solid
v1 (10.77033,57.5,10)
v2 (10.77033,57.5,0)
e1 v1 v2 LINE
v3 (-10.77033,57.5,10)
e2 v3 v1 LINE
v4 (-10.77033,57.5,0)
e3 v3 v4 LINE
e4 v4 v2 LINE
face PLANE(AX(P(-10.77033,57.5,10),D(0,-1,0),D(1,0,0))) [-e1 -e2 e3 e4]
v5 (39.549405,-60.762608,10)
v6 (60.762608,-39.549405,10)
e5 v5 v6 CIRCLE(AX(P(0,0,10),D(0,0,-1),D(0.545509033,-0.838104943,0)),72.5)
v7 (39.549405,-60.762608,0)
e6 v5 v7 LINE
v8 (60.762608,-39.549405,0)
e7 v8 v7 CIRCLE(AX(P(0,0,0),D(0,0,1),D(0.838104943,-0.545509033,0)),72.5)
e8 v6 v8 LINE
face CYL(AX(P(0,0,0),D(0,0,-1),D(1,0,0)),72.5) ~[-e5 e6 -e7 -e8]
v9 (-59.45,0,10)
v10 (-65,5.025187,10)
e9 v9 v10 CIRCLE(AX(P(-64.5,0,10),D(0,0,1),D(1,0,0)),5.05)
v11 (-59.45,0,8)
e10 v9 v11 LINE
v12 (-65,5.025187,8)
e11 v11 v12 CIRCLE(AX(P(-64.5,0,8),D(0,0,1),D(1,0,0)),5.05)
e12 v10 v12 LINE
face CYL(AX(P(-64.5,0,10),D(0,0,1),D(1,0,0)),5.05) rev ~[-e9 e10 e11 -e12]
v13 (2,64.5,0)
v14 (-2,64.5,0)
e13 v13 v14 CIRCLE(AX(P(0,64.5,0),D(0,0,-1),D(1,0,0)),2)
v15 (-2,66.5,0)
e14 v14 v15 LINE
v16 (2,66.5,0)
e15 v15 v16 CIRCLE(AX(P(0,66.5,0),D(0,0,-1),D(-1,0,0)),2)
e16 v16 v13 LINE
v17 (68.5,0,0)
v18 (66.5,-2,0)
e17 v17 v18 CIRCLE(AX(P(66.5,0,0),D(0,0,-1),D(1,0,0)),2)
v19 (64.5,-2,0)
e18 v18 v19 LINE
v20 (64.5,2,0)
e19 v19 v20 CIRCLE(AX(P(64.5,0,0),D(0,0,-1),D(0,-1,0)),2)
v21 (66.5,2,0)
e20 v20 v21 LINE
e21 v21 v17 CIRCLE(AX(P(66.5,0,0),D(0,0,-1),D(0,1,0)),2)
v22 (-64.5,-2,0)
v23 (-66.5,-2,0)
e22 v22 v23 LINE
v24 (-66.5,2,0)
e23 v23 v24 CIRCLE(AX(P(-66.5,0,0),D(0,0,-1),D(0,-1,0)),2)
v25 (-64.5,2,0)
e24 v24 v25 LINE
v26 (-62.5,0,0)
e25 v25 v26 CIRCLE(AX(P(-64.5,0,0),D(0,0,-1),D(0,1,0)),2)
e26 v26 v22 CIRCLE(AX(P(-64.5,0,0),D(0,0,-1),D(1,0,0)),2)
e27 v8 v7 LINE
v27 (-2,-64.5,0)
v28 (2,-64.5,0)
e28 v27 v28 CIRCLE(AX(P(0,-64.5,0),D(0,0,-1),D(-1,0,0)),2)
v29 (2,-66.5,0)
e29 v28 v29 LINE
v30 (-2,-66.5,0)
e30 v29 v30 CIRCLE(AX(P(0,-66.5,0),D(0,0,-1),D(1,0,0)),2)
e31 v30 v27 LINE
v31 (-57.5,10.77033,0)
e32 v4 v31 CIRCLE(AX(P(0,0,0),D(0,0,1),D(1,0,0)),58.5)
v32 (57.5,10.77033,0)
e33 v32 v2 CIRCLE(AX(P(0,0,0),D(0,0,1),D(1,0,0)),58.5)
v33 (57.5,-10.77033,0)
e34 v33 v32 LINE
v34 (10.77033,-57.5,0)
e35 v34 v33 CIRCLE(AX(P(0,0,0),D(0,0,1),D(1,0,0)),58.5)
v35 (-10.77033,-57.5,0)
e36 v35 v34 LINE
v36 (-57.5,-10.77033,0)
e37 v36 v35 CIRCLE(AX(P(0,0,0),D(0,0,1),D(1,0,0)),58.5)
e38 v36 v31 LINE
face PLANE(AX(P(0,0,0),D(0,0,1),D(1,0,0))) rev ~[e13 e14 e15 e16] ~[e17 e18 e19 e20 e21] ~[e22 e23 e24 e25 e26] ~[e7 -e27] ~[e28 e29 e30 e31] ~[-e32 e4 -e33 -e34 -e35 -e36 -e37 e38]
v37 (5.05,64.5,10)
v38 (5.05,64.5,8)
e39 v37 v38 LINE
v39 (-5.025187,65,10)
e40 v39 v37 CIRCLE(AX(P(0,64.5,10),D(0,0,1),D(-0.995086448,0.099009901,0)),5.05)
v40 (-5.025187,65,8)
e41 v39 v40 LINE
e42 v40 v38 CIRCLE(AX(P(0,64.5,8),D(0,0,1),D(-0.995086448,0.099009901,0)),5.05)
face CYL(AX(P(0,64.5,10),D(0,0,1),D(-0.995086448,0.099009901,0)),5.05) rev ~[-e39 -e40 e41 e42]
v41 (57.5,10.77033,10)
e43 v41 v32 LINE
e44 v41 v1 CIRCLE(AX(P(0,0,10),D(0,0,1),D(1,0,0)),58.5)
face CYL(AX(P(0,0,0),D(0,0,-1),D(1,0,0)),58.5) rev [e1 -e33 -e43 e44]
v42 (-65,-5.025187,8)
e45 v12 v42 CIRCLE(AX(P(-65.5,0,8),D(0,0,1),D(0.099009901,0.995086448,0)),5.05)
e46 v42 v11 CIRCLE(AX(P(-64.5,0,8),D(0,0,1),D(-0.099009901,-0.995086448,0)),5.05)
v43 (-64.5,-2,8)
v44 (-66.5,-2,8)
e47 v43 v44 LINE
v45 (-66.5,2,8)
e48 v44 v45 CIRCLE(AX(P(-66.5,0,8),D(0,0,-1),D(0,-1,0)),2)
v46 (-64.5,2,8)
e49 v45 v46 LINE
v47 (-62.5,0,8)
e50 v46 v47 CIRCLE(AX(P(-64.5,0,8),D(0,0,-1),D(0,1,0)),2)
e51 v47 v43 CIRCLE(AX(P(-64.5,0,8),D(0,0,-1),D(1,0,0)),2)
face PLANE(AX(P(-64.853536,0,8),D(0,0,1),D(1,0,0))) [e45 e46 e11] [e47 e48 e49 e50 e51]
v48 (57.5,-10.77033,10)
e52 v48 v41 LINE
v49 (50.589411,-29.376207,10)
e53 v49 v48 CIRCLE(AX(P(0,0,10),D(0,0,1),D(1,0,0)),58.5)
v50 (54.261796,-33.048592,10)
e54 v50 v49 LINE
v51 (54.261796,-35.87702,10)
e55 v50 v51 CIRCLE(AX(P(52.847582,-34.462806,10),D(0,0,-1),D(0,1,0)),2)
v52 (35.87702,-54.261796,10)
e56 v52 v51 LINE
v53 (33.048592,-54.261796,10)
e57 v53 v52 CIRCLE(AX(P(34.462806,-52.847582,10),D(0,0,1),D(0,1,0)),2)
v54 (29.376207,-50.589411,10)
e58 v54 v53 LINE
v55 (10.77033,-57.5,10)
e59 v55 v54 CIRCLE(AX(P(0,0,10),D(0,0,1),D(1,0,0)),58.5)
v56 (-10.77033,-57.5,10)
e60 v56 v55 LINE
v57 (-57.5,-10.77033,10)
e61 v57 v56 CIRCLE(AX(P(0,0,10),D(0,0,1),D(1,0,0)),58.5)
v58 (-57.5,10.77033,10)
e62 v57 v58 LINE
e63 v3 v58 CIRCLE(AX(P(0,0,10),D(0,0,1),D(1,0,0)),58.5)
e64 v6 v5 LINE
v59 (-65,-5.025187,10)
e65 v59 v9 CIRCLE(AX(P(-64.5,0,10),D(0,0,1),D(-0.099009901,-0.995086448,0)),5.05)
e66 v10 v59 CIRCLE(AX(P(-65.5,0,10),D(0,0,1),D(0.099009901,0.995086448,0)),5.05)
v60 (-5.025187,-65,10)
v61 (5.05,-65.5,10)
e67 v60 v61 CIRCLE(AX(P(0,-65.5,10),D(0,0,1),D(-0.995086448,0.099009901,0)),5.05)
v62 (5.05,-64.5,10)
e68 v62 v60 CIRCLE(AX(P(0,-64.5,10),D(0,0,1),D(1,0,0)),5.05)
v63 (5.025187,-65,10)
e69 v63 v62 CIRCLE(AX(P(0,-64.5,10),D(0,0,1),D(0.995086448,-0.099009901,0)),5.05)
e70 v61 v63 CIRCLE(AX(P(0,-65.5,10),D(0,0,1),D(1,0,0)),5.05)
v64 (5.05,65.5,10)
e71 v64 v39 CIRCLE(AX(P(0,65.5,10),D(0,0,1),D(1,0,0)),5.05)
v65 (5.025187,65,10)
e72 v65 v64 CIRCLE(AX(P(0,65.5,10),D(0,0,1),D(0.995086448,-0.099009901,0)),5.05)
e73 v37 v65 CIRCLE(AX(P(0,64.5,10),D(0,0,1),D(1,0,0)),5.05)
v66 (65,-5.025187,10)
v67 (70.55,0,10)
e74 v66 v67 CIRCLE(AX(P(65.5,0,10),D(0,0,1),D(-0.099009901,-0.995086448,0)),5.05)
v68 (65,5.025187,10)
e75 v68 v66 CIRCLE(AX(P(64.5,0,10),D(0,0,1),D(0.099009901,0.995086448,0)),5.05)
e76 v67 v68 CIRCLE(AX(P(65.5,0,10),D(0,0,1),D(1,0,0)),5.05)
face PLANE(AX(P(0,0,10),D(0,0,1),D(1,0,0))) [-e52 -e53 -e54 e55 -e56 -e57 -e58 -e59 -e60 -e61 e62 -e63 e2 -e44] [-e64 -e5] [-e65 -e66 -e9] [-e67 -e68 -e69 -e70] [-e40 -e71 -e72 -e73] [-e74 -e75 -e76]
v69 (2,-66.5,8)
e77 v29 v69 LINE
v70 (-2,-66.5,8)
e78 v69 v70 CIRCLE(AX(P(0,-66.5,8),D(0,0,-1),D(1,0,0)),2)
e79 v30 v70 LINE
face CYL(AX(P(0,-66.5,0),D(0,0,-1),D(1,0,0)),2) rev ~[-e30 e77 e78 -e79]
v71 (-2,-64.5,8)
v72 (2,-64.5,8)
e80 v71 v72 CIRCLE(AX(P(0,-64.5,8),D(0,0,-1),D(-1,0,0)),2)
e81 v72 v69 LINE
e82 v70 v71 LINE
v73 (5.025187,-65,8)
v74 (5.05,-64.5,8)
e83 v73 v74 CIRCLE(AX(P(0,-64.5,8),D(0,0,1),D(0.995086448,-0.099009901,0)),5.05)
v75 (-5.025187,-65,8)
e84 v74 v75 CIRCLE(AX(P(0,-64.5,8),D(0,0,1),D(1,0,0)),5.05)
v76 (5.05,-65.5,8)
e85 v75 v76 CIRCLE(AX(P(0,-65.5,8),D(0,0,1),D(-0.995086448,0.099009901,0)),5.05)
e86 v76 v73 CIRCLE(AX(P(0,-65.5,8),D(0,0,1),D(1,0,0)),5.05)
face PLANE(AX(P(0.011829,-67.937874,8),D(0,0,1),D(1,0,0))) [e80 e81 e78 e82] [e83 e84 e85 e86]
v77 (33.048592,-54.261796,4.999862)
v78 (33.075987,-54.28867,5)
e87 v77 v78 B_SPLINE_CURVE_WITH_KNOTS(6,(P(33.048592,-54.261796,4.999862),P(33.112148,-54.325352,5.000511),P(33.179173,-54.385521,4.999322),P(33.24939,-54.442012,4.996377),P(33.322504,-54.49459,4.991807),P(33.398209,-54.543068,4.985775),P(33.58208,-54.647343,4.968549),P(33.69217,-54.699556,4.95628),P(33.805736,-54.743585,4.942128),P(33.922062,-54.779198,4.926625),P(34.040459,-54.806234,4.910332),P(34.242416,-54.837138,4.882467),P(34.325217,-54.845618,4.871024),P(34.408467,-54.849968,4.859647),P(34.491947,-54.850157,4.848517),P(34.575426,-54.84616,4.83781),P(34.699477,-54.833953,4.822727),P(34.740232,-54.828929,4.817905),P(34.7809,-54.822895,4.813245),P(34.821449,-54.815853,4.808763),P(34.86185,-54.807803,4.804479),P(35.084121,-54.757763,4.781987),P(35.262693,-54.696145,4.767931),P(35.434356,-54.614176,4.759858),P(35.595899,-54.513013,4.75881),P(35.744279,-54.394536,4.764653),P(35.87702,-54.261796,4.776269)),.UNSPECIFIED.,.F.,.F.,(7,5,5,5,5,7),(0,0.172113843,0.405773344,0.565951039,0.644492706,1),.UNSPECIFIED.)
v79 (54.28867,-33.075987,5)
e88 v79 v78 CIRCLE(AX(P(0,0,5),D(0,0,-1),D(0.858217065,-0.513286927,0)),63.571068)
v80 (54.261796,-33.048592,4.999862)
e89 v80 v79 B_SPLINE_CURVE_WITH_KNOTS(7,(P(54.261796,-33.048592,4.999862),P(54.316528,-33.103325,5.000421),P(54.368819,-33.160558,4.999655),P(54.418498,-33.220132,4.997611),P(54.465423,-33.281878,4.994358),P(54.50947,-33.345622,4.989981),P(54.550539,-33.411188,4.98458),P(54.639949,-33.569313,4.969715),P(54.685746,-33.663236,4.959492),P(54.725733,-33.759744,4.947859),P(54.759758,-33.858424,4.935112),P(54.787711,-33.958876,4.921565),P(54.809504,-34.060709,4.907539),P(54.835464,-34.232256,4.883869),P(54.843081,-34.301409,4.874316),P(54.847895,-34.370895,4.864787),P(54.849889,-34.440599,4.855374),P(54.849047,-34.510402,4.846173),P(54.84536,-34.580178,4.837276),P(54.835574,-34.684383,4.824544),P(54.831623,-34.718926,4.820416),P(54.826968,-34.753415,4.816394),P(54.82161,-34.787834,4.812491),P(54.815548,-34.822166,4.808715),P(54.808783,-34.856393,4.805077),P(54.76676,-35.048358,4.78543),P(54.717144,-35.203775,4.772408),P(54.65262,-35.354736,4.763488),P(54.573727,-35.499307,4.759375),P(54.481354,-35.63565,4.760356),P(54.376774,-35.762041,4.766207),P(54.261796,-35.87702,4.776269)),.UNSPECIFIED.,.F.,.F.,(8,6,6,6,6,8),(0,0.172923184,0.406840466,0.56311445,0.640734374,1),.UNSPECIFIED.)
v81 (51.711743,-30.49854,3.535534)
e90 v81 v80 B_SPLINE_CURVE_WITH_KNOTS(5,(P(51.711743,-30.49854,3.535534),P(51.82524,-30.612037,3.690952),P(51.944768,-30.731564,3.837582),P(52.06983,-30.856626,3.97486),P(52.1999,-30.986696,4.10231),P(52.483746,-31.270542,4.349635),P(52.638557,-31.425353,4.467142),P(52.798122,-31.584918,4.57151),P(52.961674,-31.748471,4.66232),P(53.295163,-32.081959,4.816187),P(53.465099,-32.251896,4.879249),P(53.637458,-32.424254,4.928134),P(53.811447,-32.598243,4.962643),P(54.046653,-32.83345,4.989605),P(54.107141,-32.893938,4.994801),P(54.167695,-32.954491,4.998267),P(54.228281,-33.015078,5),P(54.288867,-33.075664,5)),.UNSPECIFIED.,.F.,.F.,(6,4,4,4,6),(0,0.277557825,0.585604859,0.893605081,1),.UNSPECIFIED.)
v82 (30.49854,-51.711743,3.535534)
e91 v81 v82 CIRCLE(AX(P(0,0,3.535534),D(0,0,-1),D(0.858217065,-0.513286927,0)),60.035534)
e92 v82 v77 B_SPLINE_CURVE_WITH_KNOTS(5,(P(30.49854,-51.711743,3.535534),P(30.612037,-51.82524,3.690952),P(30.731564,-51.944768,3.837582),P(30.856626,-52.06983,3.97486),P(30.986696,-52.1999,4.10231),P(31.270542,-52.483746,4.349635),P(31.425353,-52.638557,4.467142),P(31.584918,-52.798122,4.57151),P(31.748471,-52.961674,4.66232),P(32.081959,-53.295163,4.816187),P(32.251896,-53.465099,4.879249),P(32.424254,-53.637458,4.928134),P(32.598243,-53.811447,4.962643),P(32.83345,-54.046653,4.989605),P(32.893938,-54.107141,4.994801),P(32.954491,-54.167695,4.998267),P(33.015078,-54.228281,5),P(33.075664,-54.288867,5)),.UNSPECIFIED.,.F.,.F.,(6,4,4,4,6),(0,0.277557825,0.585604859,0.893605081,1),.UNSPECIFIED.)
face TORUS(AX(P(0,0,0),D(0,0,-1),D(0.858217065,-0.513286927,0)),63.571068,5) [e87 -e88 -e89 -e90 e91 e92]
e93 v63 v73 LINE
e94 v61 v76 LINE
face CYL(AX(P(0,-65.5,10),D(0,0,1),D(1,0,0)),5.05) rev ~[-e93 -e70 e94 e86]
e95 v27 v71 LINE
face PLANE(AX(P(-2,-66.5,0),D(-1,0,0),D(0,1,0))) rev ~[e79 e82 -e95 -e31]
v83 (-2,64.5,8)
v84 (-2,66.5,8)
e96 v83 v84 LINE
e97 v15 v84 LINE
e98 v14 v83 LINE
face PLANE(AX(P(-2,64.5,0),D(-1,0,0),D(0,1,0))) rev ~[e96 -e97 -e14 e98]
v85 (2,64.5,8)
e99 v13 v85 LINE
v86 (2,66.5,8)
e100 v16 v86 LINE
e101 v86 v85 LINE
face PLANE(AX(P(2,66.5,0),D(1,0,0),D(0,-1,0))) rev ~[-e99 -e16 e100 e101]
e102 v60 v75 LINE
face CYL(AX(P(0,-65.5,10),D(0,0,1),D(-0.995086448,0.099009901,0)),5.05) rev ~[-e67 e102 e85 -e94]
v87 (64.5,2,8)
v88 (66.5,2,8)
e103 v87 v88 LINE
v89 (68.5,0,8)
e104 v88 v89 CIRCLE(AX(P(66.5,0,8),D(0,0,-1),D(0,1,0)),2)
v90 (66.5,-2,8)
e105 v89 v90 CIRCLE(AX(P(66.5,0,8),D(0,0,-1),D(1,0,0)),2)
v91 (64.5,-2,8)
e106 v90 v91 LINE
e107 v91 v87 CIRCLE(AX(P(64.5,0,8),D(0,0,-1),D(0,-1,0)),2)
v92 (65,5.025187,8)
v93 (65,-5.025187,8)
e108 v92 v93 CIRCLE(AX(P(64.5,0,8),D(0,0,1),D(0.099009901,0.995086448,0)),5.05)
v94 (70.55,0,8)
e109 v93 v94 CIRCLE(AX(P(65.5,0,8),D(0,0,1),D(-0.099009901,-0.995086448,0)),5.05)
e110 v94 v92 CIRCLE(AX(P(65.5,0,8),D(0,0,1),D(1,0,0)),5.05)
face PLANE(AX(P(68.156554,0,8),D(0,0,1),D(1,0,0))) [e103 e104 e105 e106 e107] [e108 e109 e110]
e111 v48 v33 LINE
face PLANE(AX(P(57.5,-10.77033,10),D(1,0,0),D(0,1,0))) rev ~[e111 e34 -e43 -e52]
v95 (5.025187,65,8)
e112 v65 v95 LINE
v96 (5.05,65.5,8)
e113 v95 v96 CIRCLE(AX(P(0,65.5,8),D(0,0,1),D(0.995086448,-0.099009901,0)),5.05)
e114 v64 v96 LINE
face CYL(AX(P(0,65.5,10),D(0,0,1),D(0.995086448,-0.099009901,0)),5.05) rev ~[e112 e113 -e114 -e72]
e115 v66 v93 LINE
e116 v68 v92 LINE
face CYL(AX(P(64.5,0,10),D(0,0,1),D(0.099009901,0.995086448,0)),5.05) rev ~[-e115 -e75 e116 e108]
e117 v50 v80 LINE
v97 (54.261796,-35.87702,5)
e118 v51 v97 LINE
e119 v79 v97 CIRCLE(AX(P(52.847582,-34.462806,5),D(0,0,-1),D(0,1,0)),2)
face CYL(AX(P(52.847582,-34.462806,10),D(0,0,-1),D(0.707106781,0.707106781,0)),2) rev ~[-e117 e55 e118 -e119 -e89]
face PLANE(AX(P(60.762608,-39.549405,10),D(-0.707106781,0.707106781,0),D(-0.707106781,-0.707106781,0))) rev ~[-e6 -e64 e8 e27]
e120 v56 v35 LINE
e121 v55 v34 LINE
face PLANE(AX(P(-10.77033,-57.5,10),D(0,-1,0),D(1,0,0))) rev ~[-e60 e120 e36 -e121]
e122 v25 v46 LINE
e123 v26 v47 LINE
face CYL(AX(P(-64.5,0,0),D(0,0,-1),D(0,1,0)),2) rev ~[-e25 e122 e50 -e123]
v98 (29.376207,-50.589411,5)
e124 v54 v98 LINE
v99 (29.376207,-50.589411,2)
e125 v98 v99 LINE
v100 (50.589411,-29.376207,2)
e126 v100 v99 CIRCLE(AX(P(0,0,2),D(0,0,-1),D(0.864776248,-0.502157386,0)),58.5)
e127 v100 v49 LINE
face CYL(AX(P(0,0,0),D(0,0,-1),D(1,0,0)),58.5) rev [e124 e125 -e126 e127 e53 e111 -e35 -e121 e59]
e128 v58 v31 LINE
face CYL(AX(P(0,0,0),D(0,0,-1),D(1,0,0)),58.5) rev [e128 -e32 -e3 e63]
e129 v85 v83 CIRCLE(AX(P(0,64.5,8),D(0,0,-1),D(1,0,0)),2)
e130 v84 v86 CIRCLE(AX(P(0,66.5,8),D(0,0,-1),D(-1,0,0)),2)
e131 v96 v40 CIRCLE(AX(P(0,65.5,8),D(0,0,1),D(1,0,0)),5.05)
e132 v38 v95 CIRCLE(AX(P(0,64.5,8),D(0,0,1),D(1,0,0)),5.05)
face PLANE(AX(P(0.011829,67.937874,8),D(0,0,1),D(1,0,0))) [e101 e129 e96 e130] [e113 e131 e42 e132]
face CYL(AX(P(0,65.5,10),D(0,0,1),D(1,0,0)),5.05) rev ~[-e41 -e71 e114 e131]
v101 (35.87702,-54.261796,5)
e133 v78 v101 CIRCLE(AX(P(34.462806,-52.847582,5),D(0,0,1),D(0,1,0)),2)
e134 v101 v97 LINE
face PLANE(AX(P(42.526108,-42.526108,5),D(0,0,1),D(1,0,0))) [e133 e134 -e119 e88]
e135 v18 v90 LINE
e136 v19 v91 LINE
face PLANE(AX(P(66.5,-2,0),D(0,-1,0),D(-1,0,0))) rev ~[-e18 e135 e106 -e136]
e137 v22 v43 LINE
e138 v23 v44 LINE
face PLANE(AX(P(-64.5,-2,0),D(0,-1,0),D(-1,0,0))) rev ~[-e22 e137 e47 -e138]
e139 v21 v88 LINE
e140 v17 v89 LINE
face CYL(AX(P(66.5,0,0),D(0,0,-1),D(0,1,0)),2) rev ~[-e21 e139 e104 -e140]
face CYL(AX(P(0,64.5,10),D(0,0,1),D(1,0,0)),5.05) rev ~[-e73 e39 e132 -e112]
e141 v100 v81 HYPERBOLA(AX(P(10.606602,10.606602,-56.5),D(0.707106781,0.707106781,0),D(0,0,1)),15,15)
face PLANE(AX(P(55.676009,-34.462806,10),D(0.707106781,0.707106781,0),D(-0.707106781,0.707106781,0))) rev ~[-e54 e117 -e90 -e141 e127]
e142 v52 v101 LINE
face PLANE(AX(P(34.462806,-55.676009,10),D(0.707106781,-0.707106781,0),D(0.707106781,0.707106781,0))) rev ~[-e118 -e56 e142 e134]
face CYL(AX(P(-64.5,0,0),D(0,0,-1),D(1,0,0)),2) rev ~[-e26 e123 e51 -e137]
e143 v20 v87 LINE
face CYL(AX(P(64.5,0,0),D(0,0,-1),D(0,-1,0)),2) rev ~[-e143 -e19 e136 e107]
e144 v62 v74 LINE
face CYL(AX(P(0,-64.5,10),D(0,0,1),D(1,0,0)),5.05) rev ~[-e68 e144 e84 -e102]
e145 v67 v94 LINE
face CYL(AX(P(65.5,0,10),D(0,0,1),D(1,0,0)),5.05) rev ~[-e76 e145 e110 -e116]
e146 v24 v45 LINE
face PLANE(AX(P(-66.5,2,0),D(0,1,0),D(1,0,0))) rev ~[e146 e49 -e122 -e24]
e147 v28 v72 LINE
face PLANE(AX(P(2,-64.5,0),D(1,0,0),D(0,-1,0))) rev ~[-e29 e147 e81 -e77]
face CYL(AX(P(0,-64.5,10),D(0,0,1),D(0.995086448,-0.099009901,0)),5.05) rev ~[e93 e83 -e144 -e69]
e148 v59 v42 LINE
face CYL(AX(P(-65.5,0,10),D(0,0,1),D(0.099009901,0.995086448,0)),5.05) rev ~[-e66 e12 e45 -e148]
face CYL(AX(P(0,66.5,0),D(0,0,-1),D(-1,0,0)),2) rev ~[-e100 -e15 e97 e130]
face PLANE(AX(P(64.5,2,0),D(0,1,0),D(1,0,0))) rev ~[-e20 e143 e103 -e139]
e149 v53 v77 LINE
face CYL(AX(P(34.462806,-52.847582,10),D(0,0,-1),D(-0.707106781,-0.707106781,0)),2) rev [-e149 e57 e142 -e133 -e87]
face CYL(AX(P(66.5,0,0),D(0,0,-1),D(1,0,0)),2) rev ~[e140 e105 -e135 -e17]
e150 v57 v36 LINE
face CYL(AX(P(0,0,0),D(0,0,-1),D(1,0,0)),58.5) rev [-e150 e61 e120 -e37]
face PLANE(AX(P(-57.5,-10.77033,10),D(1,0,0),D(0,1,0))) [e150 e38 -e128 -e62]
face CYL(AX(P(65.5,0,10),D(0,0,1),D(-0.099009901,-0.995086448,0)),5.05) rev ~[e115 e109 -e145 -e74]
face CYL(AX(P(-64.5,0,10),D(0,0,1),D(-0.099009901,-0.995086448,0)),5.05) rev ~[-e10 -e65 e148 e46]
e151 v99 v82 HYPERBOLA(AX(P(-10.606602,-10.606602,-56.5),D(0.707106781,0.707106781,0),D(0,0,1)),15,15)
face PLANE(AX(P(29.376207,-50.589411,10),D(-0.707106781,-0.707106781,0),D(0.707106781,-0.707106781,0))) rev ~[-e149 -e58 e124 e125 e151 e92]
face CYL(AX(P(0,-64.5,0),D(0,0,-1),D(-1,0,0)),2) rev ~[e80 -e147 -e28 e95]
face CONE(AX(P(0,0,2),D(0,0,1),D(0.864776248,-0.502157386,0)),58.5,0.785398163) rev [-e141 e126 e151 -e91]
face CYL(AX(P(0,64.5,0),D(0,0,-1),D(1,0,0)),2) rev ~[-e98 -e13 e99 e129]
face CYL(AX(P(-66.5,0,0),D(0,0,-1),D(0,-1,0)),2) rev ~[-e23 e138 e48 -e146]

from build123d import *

# Parameters (mm, degrees)
F0_R      = 72.5
F0_R_2    = 58.5
F1_DEPTH  = 10
F3_DEPTH  = 10.001
F5_DEPTH  = 5
F7_DEPTH  = 2
F8_SIZE   = 3
F9_R      = 5
F10_R     = 2
F11_W     = 21.5406592285
F11_H     = 1
F11_W_2   = 1
F11_H_2   = 21.5406592285
F12_DEPTH = 10


with BuildPart() as f1:
    # F0 (on Top) → F1 (new body)
    with BuildSketch(Plane.XY):
        Circle(F0_R)
        with BuildLine():
            ThreePointArc((2, -66.5), (0, -68.5), (-2, -66.5))
            Line((-2, -66.5), (-2, -64.5))
            ThreePointArc((-2, -64.5), (0, -62.5), (2, -64.5))
            Line((2, -64.5), (2, -66.5))
        make_face(mode=Mode.SUBTRACT)
        with BuildLine():
            Line((-65.5, 2), (-64.5, 2))
            ThreePointArc((-64.5, 2), (-63.0857864376, 1.4142135624), (-62.5, 0))
            ThreePointArc((-62.5, 0), (-63.0857864376, -1.4142135624), (-64.5, -2))
            Line((-64.5, -2), (-65.5, -2))
            Line((-65.5, -2), (-66.5, -2))
            ThreePointArc((-66.5, -2), (-68.5, 0), (-66.5, 2))
            Line((-66.5, 2), (-65.5, 2))
        make_face(mode=Mode.SUBTRACT)
        Circle(F0_R_2, mode=Mode.SUBTRACT)
        with BuildLine():
            ThreePointArc((66.5, 2), (67.9142135624, 1.4142135624), (68.5, 0))
            ThreePointArc((68.5, 0), (67.9142135624, -1.4142135624), (66.5, -2))
            Line((66.5, -2), (64.5, -2))
            ThreePointArc((64.5, -2), (62.5, 0), (64.5, 2))
            Line((64.5, 2), (66.5, 2))
        make_face(mode=Mode.SUBTRACT)
        with BuildLine():
            ThreePointArc((-2, 66.5), (0, 68.5), (2, 66.5))
            Line((2, 66.5), (2, 64.5))
            ThreePointArc((2, 64.5), (0, 62.5), (-2, 64.5))
            Line((-2, 64.5), (-2, 66.5))
        make_face(mode=Mode.SUBTRACT)
    extrude(amount=F1_DEPTH)

    # F2 (on face) → F3 (cut, through all)
    with BuildSketch(Plane.XY.offset(10)):
        Polygon((39.5494049015, -60.7626083371), (40.6586399182, -61.8718433538), (61.8718433538, -40.6586399182), (60.7626083371, -39.5494049015), align=None)
        with BuildLine():
            ThreePointArc((39.5494049015, -60.7626083371), (45.6549558742, -56.319401667), (51.2652415538, -51.2652417182))
            ThreePointArc((51.2652415538, -51.2652417182), (56.3194015937, -45.6549559645), (60.7626083371, -39.5494049015))
            Line((60.7626083371, -39.5494049015), (39.5494049015, -60.7626083371))
        make_face()
    extrude(amount=-F3_DEPTH, mode=Mode.SUBTRACT)

    # F4 (on face) → F5 (cut)
    with BuildSketch(Plane.XY.offset(10)):
        Polygon((55.6760094304, -34.4628059948), (50.5894105236, -29.376207088), (29.376207088, -50.5894105236), (34.4628059948, -55.6760094304), align=None)
    extrude(amount=-F5_DEPTH, mode=Mode.SUBTRACT)

    # F6 (on face) → F7 (cut)
    with BuildSketch(Plane.XY.offset(10)):
        with BuildLine():
            ThreePointArc((-65, -5.0251865637), (-61.7565056431, -3.3895058637), (-60.45, 0))
            ThreePointArc((-60.45, 0), (-61.7565056431, 3.3895058637), (-65, 5.0251865637))
            ThreePointArc((-65, 5.0251865637), (-69.55, 0), (-65, -5.0251865637))
        make_face()
        with BuildLine():
            ThreePointArc((-65, 5.0251865637), (-61.7565056431, 3.3895058637), (-60.45, 0))
            ThreePointArc((-60.45, 0), (-61.7565056431, -3.3895058637), (-65, -5.0251865637))
            ThreePointArc((-65, -5.0251865637), (-61.1104941363, -3.7434943569), (-59.45, 0))
            ThreePointArc((-59.45, 0), (-61.1104941363, 3.7434943569), (-65, 5.0251865637))
        make_face()
        with BuildLine():
            ThreePointArc((-65, -5.0251865637), (-69.55, 0), (-65, 5.0251865637))
            ThreePointArc((-65, 5.0251865637), (-70.55, 0), (-65, -5.0251865637))
        make_face()
        with BuildLine():
            ThreePointArc((5.0251865637, 65), (5.0437928262, 65.249692336), (5.05, 65.5))
            ThreePointArc((5.05, 65.5), (-0.250307664, 70.5437928262), (-5.0251865637, 65))
            ThreePointArc((-5.0251865637, 65), (0, 69.55), (5.0251865637, 65))
        make_face()
        with BuildLine():
            ThreePointArc((5.0251865637, 65), (0, 69.55), (-5.0251865637, 65))
            ThreePointArc((-5.0251865637, 65), (0, 60.45), (5.0251865637, 65))
        make_face()
        with BuildLine():
            ThreePointArc((5.0251865637, 65), (0, 60.45), (-5.0251865637, 65))
            ThreePointArc((-5.0251865637, 65), (-0.250307664, 59.4562071738), (5.05, 64.5))
            ThreePointArc((5.05, 64.5), (5.0437928262, 64.750307664), (5.0251865637, 65))
        make_face()
        with BuildLine():
            ThreePointArc((65, -5.0251865637), (68.8895058637, -3.7434943569), (70.55, 0))
            ThreePointArc((70.55, 0), (68.8895058637, 3.7434943569), (65, 5.0251865637))
            ThreePointArc((65, 5.0251865637), (68.2434943569, 3.3895058637), (69.55, 0))
            ThreePointArc((69.55, 0), (68.2434943569, -3.3895058637), (65, -5.0251865637))
        make_face()
        with BuildLine():
            ThreePointArc((69.55, 0), (68.2434943569, 3.3895058637), (65, 5.0251865637))
            ThreePointArc((65, 5.0251865637), (60.45, 0), (65, -5.0251865637))
            ThreePointArc((65, -5.0251865637), (68.2434943569, -3.3895058637), (69.55, 0))
        make_face()
        with BuildLine():
            ThreePointArc((65, -5.0251865637), (60.45, 0), (65, 5.0251865637))
            ThreePointArc((65, 5.0251865637), (59.45, 0), (65, -5.0251865637))
        make_face()
        with BuildLine():
            ThreePointArc((-5.0251865637, -65), (-0.250307664, -70.5437928262), (5.05, -65.5))
            ThreePointArc((5.05, -65.5), (5.0437928262, -65.249692336), (5.0251865637, -65))
            ThreePointArc((5.0251865637, -65), (0, -69.55), (-5.0251865637, -65))
        make_face()
        with BuildLine():
            ThreePointArc((-5.0251865637, -65), (0, -69.55), (5.0251865637, -65))
            ThreePointArc((5.0251865637, -65), (0, -60.45), (-5.0251865637, -65))
        make_face()
        with BuildLine():
            ThreePointArc((-5.0251865637, -65), (0, -60.45), (5.0251865637, -65))
            ThreePointArc((5.0251865637, -65), (5.0437928262, -64.750307664), (5.05, -64.5))
            ThreePointArc((5.05, -64.5), (-0.250307664, -59.4562071738), (-5.0251865637, -65))
        make_face()
    extrude(amount=-F7_DEPTH, mode=Mode.SUBTRACT)

    # F8
    f8_edges = [f1.edges().sort_by_distance(p)[0] for p in [
        (41.365747, -41.365747, 5),
    ]]
    chamfer(f8_edges, length=F8_SIZE)

    # F9
    f9_edges = [f1.edges().sort_by_distance(p)[0] for p in [
        (43.487067, -43.487067, 5),
    ]]
    fillet(f9_edges, radius=F9_R)

    # F10
    f10_edges = [f1.edges().sort_by_distance(p)[0] for p in [
        (55.676009, -34.462806, 7.5),
        (34.462806, -55.676009, 7.5),
    ]]
    fillet(f10_edges, radius=F10_R)

    # F11 (on face) → F12 (join)
    with BuildSketch(Plane.XY.offset(10)):
        with Locations((0, -58)):
            Rectangle(F11_W, F11_H)
        with Locations((58, 0)):
            Rectangle(F11_W_2, F11_H_2)
        with Locations((0, 58)):
            Rectangle(F11_W, F11_H)
        with Locations((-58, 0)):
            Rectangle(F11_W_2, F11_H_2)
    extrude(amount=-F12_DEPTH)


solid = f1.part
